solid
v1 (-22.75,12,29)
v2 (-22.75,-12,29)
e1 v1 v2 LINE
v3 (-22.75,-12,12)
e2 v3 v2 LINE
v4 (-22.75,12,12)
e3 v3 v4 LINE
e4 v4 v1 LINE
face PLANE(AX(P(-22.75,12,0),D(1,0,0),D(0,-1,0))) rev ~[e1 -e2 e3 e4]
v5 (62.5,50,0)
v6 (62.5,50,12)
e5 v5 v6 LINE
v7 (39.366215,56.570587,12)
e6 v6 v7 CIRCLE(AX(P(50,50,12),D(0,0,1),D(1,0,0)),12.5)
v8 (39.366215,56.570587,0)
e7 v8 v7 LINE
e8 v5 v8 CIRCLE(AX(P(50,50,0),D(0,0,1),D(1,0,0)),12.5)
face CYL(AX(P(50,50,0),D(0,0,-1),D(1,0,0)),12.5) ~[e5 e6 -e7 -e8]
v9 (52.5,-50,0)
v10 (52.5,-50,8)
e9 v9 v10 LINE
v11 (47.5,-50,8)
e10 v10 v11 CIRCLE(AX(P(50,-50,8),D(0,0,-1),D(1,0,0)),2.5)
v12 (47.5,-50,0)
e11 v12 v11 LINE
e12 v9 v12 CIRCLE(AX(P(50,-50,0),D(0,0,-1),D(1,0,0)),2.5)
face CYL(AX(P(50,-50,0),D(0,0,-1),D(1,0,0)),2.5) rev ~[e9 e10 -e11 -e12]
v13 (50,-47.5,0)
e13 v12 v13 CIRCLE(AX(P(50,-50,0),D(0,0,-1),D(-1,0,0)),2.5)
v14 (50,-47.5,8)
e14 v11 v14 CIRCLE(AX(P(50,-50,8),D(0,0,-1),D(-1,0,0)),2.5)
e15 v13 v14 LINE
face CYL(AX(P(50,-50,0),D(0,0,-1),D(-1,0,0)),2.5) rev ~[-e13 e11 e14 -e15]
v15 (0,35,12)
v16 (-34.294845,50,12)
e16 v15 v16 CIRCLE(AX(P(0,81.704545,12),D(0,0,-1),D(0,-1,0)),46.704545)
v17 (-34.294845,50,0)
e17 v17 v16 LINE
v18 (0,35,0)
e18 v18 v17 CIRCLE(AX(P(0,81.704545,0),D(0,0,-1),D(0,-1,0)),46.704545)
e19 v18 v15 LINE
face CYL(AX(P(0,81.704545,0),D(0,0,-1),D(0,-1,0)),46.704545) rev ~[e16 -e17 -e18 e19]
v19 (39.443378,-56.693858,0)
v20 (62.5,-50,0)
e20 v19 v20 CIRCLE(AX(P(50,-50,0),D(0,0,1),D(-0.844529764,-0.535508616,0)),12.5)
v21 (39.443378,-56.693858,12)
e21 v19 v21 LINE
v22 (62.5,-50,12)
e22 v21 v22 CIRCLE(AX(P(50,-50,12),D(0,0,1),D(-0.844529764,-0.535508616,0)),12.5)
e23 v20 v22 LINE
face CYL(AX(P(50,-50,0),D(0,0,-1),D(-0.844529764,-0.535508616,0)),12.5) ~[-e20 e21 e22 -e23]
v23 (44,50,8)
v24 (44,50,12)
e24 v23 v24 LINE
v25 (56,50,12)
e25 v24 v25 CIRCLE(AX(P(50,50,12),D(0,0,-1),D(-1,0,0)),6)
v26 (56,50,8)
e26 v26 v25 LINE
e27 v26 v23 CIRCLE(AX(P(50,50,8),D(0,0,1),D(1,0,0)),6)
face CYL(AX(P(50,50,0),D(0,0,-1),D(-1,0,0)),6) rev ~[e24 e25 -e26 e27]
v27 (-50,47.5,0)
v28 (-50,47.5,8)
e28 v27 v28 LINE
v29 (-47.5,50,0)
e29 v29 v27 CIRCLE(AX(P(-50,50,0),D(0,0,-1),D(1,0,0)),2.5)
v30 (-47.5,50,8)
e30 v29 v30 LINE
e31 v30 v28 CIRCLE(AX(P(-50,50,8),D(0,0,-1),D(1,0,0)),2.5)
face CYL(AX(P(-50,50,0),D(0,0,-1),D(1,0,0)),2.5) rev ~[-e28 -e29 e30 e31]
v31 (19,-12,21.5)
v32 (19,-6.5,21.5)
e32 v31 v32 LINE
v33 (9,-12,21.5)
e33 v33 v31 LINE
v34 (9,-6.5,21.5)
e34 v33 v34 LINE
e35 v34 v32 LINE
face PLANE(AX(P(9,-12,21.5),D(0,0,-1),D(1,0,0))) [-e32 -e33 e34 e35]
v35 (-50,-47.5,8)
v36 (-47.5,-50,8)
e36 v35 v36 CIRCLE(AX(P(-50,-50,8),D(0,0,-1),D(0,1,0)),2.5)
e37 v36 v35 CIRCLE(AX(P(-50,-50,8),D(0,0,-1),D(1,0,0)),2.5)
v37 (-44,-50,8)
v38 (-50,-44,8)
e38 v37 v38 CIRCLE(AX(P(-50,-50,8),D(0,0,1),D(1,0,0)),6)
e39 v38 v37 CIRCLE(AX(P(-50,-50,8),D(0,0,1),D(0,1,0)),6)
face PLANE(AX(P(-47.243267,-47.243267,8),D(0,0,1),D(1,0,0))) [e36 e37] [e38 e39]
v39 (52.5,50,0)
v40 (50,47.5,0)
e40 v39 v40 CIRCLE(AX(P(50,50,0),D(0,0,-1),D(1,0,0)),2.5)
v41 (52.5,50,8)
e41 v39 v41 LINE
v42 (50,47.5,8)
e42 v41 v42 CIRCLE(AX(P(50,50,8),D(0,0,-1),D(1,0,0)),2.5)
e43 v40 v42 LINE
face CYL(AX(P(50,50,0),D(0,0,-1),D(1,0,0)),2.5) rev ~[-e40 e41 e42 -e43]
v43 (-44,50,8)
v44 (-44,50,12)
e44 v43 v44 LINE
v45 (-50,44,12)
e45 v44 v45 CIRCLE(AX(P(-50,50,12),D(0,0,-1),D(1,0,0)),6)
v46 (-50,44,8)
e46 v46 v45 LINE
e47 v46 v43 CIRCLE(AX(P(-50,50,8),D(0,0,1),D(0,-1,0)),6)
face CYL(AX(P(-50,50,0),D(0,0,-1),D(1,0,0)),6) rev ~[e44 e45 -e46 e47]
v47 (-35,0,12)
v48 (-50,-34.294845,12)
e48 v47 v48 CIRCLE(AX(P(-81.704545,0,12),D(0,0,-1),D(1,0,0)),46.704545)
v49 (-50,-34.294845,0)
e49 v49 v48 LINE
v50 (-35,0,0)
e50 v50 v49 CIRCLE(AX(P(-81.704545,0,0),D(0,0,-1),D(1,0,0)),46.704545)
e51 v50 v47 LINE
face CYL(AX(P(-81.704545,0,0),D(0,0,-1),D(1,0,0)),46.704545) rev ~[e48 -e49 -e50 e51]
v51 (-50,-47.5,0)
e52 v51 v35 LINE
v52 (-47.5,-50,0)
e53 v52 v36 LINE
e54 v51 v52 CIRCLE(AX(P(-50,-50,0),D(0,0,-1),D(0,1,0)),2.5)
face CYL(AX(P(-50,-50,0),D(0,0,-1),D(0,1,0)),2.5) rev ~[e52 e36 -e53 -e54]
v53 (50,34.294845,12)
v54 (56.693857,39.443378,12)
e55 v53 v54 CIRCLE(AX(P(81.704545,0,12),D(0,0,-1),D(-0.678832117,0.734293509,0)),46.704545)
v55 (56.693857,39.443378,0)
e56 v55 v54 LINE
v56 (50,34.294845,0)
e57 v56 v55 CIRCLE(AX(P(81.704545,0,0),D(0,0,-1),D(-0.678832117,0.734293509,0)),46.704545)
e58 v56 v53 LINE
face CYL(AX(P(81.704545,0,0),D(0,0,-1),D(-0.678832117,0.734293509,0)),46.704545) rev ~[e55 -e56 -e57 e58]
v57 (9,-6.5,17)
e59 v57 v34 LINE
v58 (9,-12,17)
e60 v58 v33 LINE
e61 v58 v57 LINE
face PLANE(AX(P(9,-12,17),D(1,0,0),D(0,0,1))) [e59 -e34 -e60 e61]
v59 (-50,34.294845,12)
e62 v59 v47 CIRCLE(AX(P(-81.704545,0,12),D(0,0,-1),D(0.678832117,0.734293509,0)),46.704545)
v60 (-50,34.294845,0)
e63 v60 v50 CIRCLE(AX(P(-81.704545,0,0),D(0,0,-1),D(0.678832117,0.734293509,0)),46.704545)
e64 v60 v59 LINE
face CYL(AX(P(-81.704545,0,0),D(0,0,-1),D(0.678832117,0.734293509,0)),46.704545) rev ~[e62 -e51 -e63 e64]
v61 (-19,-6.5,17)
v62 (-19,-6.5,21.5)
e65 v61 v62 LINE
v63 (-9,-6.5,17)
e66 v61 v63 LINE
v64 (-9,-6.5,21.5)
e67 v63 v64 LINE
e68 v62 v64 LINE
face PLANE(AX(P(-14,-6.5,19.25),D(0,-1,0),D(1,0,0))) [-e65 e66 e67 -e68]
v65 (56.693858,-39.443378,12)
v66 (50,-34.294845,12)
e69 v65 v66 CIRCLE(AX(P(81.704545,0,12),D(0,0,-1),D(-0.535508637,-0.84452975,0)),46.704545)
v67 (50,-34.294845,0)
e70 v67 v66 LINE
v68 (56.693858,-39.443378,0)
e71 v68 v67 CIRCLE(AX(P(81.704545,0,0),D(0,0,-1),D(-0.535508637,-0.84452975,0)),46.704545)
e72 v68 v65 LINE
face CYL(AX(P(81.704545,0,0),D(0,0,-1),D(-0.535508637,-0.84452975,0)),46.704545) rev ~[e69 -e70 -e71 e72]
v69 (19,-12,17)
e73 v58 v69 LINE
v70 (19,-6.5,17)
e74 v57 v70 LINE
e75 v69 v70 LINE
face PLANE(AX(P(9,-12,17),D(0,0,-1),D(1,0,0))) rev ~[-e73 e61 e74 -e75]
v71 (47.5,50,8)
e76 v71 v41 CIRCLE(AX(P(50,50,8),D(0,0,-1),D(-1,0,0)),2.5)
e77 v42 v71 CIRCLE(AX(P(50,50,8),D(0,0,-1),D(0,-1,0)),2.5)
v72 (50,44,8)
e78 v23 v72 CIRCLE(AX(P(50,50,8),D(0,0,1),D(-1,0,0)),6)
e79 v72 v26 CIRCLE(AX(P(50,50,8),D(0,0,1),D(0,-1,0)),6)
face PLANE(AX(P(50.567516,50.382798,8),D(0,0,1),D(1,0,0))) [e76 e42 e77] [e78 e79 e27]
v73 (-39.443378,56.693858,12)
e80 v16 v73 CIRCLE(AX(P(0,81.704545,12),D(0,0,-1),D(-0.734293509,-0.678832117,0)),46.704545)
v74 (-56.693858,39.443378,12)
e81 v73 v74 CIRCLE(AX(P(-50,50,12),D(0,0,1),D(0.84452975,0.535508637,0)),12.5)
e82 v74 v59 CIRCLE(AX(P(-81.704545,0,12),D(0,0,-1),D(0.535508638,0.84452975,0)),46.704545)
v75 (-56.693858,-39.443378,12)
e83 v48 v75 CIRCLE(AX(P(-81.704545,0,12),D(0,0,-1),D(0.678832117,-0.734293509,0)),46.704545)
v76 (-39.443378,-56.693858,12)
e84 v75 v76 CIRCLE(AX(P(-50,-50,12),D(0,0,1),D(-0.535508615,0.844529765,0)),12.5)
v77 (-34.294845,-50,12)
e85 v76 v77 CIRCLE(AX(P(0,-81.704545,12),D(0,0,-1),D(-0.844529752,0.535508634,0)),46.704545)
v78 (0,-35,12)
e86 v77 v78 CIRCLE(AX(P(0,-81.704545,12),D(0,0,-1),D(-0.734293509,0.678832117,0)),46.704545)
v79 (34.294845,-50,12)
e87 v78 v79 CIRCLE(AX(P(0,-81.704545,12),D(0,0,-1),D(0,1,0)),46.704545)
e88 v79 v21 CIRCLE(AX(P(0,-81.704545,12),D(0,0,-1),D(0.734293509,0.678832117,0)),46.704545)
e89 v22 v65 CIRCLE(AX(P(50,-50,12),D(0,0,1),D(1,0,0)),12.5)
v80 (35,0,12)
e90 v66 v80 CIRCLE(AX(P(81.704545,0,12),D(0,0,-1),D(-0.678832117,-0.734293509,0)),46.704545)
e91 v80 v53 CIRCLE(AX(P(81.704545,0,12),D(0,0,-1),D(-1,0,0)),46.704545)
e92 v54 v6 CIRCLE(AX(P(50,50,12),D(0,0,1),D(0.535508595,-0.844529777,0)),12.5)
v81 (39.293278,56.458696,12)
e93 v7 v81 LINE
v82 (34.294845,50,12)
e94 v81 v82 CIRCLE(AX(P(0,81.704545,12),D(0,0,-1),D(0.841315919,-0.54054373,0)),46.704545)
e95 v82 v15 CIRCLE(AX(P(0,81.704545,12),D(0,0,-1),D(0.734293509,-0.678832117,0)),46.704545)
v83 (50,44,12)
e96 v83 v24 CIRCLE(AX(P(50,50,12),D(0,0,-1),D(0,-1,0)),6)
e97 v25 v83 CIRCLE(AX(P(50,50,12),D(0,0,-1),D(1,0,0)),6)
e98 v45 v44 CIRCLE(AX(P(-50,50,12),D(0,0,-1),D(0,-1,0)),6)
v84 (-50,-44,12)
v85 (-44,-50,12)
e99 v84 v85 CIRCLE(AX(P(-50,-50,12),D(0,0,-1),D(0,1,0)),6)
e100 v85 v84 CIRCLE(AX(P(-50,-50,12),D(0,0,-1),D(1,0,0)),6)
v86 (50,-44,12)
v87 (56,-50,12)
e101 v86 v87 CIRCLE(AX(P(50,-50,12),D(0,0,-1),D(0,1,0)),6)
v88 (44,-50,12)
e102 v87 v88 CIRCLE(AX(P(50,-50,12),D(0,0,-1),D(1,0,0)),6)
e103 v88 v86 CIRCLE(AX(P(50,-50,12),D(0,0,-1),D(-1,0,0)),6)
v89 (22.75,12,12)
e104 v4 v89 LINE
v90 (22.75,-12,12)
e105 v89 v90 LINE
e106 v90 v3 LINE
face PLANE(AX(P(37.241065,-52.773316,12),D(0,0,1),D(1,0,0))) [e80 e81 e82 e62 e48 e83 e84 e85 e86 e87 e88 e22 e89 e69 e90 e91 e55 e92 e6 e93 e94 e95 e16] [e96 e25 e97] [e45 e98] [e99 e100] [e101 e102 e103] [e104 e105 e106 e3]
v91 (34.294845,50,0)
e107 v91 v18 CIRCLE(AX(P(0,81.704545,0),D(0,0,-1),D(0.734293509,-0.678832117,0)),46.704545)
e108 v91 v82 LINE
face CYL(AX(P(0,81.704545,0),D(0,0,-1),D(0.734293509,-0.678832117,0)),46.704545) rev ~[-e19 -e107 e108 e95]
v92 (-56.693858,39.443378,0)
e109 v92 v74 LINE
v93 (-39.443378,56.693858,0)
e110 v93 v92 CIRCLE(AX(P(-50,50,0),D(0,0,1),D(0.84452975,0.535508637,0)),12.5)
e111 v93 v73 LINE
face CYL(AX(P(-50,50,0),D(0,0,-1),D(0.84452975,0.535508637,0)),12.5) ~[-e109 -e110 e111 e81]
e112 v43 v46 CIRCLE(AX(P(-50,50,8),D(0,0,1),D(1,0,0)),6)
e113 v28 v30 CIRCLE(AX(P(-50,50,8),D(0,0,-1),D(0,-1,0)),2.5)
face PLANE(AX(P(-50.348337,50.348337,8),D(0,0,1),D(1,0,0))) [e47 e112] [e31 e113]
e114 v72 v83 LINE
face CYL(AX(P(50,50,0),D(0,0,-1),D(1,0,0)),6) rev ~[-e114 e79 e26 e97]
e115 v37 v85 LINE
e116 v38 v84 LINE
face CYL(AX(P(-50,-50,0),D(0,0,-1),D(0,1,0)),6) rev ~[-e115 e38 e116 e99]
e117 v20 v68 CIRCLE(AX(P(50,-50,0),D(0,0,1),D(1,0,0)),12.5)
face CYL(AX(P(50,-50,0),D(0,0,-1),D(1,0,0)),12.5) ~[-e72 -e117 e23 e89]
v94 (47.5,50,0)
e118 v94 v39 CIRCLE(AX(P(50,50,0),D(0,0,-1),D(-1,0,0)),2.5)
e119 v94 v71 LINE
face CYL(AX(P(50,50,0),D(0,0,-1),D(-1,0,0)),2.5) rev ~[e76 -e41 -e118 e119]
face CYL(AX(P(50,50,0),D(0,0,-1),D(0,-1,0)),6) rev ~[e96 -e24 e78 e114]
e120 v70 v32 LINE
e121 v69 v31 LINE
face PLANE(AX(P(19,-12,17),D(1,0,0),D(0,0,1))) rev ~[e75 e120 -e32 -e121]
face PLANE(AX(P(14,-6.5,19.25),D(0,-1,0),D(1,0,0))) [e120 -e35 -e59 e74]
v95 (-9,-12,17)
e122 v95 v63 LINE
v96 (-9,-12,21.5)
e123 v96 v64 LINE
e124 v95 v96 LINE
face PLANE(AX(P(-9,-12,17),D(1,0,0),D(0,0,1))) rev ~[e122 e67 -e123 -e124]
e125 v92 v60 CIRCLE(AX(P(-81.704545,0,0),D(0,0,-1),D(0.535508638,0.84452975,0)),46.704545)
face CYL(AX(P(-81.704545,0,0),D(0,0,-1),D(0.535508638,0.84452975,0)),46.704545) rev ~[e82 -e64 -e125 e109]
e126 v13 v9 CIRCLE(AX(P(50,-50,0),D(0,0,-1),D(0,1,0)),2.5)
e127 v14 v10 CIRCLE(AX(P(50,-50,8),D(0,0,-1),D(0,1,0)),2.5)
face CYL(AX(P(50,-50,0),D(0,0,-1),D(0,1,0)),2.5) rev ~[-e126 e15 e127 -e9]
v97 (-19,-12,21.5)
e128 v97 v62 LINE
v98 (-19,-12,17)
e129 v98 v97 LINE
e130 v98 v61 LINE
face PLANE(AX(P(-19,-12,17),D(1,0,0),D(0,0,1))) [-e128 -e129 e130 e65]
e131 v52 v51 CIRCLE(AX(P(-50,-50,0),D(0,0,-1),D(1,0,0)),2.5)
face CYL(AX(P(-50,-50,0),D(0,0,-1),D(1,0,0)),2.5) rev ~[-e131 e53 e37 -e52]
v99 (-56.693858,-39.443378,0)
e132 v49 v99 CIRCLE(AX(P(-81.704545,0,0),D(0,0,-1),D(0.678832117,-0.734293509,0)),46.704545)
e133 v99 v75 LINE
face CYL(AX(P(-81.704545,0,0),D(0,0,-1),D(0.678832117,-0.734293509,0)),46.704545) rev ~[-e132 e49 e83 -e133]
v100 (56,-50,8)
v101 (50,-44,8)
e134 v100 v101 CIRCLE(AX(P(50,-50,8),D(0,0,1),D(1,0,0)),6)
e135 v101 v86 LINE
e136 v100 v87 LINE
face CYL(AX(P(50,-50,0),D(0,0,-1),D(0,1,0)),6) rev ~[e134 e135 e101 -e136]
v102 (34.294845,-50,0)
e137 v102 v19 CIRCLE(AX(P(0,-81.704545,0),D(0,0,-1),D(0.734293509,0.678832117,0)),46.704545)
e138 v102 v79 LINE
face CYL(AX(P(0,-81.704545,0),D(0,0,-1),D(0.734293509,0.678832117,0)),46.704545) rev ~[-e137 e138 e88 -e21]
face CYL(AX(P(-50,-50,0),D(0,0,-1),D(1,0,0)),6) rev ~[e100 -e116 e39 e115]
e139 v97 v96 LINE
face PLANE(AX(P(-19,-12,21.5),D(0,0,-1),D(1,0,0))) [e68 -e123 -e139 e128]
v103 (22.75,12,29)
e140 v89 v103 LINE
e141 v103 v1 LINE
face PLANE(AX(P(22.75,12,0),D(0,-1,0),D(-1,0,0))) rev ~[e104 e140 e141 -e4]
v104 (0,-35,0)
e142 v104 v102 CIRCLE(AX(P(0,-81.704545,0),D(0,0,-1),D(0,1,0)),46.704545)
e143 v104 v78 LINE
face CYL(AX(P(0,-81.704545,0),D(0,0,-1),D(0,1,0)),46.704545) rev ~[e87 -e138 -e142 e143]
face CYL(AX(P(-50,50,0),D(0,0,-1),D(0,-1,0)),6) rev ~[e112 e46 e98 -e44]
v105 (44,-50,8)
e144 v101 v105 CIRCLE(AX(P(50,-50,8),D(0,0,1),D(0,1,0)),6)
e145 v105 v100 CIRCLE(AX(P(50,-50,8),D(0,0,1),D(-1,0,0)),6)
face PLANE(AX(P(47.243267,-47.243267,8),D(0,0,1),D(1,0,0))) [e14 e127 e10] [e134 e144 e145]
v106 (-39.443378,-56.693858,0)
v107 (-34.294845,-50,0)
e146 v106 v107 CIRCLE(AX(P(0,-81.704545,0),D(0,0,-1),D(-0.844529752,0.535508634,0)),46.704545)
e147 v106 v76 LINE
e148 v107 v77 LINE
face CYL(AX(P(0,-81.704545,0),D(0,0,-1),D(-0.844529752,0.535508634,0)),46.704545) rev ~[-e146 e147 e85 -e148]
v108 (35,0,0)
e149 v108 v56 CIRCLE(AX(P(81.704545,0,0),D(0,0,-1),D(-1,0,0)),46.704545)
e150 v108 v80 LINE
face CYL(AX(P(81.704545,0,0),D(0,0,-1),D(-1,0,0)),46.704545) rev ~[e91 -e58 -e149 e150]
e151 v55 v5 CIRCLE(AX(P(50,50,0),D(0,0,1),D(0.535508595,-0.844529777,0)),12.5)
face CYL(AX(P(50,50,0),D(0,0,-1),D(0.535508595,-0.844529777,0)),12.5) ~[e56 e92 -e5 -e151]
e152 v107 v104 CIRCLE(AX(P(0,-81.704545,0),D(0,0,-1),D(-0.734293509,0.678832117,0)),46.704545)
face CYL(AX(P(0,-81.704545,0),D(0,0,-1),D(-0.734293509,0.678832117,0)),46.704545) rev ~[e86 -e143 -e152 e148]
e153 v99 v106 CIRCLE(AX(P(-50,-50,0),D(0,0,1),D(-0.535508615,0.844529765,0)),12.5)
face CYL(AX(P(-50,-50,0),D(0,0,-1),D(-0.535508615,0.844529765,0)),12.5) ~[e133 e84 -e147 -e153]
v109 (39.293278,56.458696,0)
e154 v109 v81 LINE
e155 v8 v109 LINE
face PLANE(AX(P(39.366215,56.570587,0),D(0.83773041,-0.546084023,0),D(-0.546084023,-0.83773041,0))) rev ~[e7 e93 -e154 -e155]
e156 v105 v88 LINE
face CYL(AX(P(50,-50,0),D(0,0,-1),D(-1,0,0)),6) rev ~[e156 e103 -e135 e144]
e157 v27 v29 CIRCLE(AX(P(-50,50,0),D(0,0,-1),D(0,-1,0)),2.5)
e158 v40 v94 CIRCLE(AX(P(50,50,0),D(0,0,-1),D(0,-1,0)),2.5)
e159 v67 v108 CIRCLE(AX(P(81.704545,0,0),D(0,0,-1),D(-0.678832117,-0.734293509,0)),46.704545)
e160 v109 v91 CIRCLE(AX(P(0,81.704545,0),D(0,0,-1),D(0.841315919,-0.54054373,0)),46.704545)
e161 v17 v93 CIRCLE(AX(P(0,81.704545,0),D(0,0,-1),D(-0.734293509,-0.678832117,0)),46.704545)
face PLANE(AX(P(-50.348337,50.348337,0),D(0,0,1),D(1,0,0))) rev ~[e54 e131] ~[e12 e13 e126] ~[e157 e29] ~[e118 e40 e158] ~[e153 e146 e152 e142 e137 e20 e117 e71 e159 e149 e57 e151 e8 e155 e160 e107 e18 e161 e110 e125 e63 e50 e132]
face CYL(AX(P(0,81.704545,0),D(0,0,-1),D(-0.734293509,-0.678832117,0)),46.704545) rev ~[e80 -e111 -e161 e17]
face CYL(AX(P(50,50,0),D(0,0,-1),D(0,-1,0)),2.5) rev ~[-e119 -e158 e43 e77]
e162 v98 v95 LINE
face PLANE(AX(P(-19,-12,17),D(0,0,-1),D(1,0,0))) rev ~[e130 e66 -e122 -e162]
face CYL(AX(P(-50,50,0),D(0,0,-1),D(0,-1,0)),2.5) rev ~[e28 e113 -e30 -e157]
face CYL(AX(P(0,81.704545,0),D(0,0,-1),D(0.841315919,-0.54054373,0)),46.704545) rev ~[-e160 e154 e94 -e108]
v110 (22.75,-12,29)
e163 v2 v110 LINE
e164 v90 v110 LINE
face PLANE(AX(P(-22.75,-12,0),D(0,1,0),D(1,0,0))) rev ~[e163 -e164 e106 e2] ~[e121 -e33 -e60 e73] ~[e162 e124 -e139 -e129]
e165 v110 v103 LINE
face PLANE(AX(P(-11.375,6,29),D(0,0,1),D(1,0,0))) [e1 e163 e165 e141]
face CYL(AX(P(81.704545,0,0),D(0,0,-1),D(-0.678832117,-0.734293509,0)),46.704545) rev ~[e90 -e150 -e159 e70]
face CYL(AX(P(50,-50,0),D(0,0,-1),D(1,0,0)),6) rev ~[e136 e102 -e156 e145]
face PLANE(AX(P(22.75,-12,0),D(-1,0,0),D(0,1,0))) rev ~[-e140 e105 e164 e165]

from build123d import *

# Parameters (mm, degrees)
F1_DEPTH = 12
F0_W     = 22.75
F0_H     = 12
F2_DEPTH = 29
F3_DEPTH = 8
F4_W     = 10
F4_H     = 4.5
F5_DEPTH = 5.5


with BuildPart() as f1:
    # F0 (on Top) → F1 (new body)
    with BuildSketch(Plane.XY):
        with BuildLine():
            Line((37.5, -50), (34.2948445635, -50))
            ThreePointArc((34.2948445635, -50), (37.0207144417, -53.2303243355), (39.4433779545, -56.6938577061))
            ThreePointArc((39.4433779545, -56.6938577061), (37.9956721228, -53.4851272883), (37.5, -50))
        make_face()
        with BuildLine():
            Line((-34.2948445635, -50), (-37.5, -50))
            ThreePointArc((-37.5, -50), (-37.9956721876, -53.4851275115), (-39.4433782034, -56.6938580986))
            ThreePointArc((-39.4433782034, -56.6938580986), (-37.0207145834, -53.2303245197), (-34.2948445635, -50))
        make_face()
        with BuildLine():
            ThreePointArc((-39.443378119, 56.6938579655), (-37.9956721656, 53.4851274358), (-37.5, 50))
            Line((-37.5, 50), (-34.2948445635, 50))
            ThreePointArc((-34.2948445635, 50), (-37.0207145354, 53.2303244572), (-39.443378119, 56.6938579655))
        make_face()
        with BuildLine():
            Line((50, -34.2948445635), (50, -37.5))
            ThreePointArc((50, -37.5), (53.4851274351, -37.9956721654), (56.6938579643, -39.4433781183))
            ThreePointArc((56.6938579643, -39.4433781183), (53.2303244566, -37.020714535), (50, -34.2948445635))
        make_face()
        with BuildLine():
            Line((50, 37.5), (50, 34.2948445635))
            ThreePointArc((50, 34.2948445635), (53.2303242081, 37.0207143438), (56.6938574347, 39.4433777825))
            ThreePointArc((56.6938574347, 39.4433777825), (53.485127134, 37.995672078), (50, 37.5))
        make_face()
        with BuildLine():
            ThreePointArc((-56.6938576889, -39.4433779436), (-53.4851272786, -37.9956721199), (-50, -37.5))
            Line((-50, -37.5), (-50, -34.2948445635))
            ThreePointArc((-50, -34.2948445635), (-53.2303243274, -37.0207144356), (-56.6938576889, -39.4433779436))
        make_face()
        with BuildLine():
            ThreePointArc((-56.6938579169, 39.4433780882), (-53.2303244344, 37.0207145179), (-50, 34.2948445635))
            Line((-50, 34.2948445635), (-50, 37.5))
            ThreePointArc((-50, 37.5), (-53.4851274082, 37.9956721576), (-56.6938579169, 39.4433780882))
        make_face()
        with BuildLine():
            ThreePointArc((37.5, 50), (41.1611652352, 41.1611652352), (50, 37.5))
            Line((50, 37.5), (50, 44))
            ThreePointArc((50, 44), (45.7573593129, 45.7573593129), (44, 50))
            Line((44, 50), (37.5, 50))
        make_face()
        with BuildLine():
            Line((50, 44), (50, 37.5))
            ThreePointArc((50, 37.5), (53.485127134, 37.995672078), (56.6938574347, 39.4433777825))
            ThreePointArc((56.6938574347, 39.4433777825), (60.952698707, 43.9760153525), (62.5, 50))
            ThreePointArc((62.5, 50), (53.4152371074, 62.0243983426), (39.3662151199, 56.5705874261))
            ThreePointArc((39.3662151199, 56.5705874261), (37.9756016574, 53.4152371074), (37.5, 50))
            Line((37.5, 50), (44, 50))
            ThreePointArc((44, 50), (50, 56), (56, 50))
            ThreePointArc((56, 50), (54.2426406871, 45.7573593129), (50, 44))
        make_face()
        with BuildLine():
            Line((44, -50), (37.5, -50))
            ThreePointArc((37.5, -50), (37.9956721228, -53.4851272883), (39.4433779545, -56.6938577061))
            ThreePointArc((39.4433779545, -56.6938577061), (53.4851272883, -62.0043278772), (62.5, -50))
            ThreePointArc((62.5, -50), (60.9526988581, -43.9760156272), (56.6938579643, -39.4433781183))
            ThreePointArc((56.6938579643, -39.4433781183), (53.4851274351, -37.9956721654), (50, -37.5))
            Line((50, -37.5), (50, -44))
            ThreePointArc((50, -44), (54.2426406871, -45.7573593129), (56, -50))
            ThreePointArc((56, -50), (50, -56), (44, -50))
        make_face()
        with BuildLine():
            ThreePointArc((-39.4433782034, -56.6938580986), (-37.9956721876, -53.4851275115), (-37.5, -50))
            Line((-37.5, -50), (-44, -50))
            ThreePointArc((-44, -50), (-54.2426406871, -54.2426406871), (-50, -44))
            Line((-50, -44), (-50, -37.5))
            ThreePointArc((-50, -37.5), (-53.4851272786, -37.9956721199), (-56.6938576889, -39.4433779436))
            ThreePointArc((-56.6938576889, -39.4433779436), (-58.8388349363, -58.8388345933), (-39.4433782034, -56.6938580986))
        make_face()
        with BuildLine():
            ThreePointArc((-56.6938579169, 39.4433780882), (-53.4851274082, 37.9956721576), (-50, 37.5))
            Line((-50, 37.5), (-50, 44))
            ThreePointArc((-50, 44), (-54.2426406871, 54.2426406871), (-44, 50))
            Line((-44, 50), (-37.5, 50))
            ThreePointArc((-37.5, 50), (-37.9956721656, 53.4851274358), (-39.443378119, 56.6938579655))
            ThreePointArc((-39.443378119, 56.6938579655), (-58.8388347851, 58.8388347445), (-56.6938579169, 39.4433780882))
        make_face()
        with BuildLine():
            Line((22.75, 12), (22.75, 0))
            Line((22.75, 0), (35, 0))
            ThreePointArc((35, 0), (38.9140035649, 18.7158780427), (50, 34.2948445635))
            Line((50, 34.2948445635), (50, 37.5))
            ThreePointArc((50, 37.5), (41.1611652352, 41.1611652352), (37.5, 50))
            Line((37.5, 50), (34.2948445635, 50))
            ThreePointArc((34.2948445635, 50), (18.7158780427, 38.9140035649), (0, 35))
            Line((0, 35), (0, 12))
            Line((0, 12), (22.75, 12))
        make_face()
        with BuildLine():
            ThreePointArc((0, -35), (18.7158780427, -38.9140035649), (34.2948445635, -50))
            Line((34.2948445635, -50), (37.5, -50))
            ThreePointArc((37.5, -50), (41.1611652352, -41.1611652352), (50, -37.5))
            Line((50, -37.5), (50, -34.2948445635))
            ThreePointArc((50, -34.2948445635), (38.9140035649, -18.7158780427), (35, 0))
            Line((35, 0), (22.75, 0))
            Line((22.75, 0), (22.75, -12))
            Line((22.75, -12), (0, -12))
            Line((0, -12), (0, -35))
        make_face()
        with BuildLine():
            ThreePointArc((-50, -37.5), (-41.1611652352, -41.1611652352), (-37.5, -50))
            Line((-37.5, -50), (-34.2948445635, -50))
            ThreePointArc((-34.2948445635, -50), (-18.7158780427, -38.9140035649), (0, -35))
            Line((0, -35), (0, -12))
            Line((0, -12), (-22.75, -12))
            Line((-22.75, -12), (-22.75, 0))
            Line((-22.75, 0), (-35, 0))
            ThreePointArc((-35, 0), (-38.9140035649, -18.7158780427), (-50, -34.2948445635))
            Line((-50, -34.2948445635), (-50, -37.5))
        make_face()
        with BuildLine():
            Line((-50, 37.5), (-50, 34.2948445635))
            ThreePointArc((-50, 34.2948445635), (-38.9140035649, 18.7158780427), (-35, 0))
            Line((-35, 0), (-22.75, 0))
            Line((-22.75, 0), (-22.75, 12))
            Line((-22.75, 12), (0, 12))
            Line((0, 12), (0, 35))
            ThreePointArc((0, 35), (-18.7158780427, 38.9140035649), (-34.2948445635, 50))
            Line((-34.2948445635, 50), (-37.5, 50))
            ThreePointArc((-37.5, 50), (-41.1611652352, 41.1611652352), (-50, 37.5))
        make_face()
        with BuildLine():
            Line((-44, -50), (-37.5, -50))
            ThreePointArc((-37.5, -50), (-41.1611652352, -41.1611652352), (-50, -37.5))
            Line((-50, -37.5), (-50, -44))
            ThreePointArc((-50, -44), (-45.7573593129, -45.7573593129), (-44, -50))
        make_face()
        with BuildLine():
            Line((-50, 44), (-50, 37.5))
            ThreePointArc((-50, 37.5), (-41.1611652352, 41.1611652352), (-37.5, 50))
            Line((-37.5, 50), (-44, 50))
            ThreePointArc((-44, 50), (-45.7573593129, 45.7573593129), (-50, 44))
        make_face()
        with BuildLine():
            ThreePointArc((50, -37.5), (41.1611652352, -41.1611652352), (37.5, -50))
            Line((37.5, -50), (44, -50))
            ThreePointArc((44, -50), (45.7573593129, -45.7573593129), (50, -44))
            Line((50, -44), (50, -37.5))
        make_face()
        with BuildLine():
            ThreePointArc((39.2932775844, 56.4586962355), (36.935506218, 53.1198826695), (34.2948445635, 50))
            Line((34.2948445635, 50), (37.5, 50))
            ThreePointArc((37.5, 50), (37.9756016574, 53.4152371074), (39.3662151199, 56.5705874261))
            Line((39.3662151199, 56.5705874261), (39.2932775844, 56.4586962355))
        make_face()
    extrude(amount=F1_DEPTH)

    # F0 (on Top) → F2 (join)
    with BuildSketch(Plane.XY):
        with Locations((-11.375, 6)):
            Rectangle(F0_W, F0_H)
        with Locations((11.375, 6)):
            Rectangle(F0_W, F0_H)
        with Locations((11.375, -6)):
            Rectangle(F0_W, F0_H)
        with Locations((-11.375, -6)):
            Rectangle(F0_W, F0_H)
    extrude(amount=F2_DEPTH)

    # F0 (on Top) → F3 (join)
    with BuildSketch(Plane.XY):
        with BuildLine():
            ThreePointArc((-44, 50), (-54.2426406871, 54.2426406871), (-50, 44))
            Line((-50, 44), (-50, 47.5))
            ThreePointArc((-50, 47.5), (-51.767766953, 51.767766953), (-47.5, 50))
            Line((-47.5, 50), (-44, 50))
        make_face()
        with BuildLine():
            Line((-50, 47.5), (-50, 44))
            ThreePointArc((-50, 44), (-45.7573593129, 45.7573593129), (-44, 50))
            Line((-44, 50), (-47.5, 50))
            ThreePointArc((-47.5, 50), (-48.232233047, 48.232233047), (-50, 47.5))
        make_face()
        with BuildLine():
            Line((50, 47.5), (50, 44))
            ThreePointArc((50, 44), (54.2426406871, 45.7573593129), (56, 50))
            ThreePointArc((56, 50), (50, 56), (44, 50))
            Line((44, 50), (47.5, 50))
            ThreePointArc((47.5, 50), (50, 52.5), (52.5, 50))
            ThreePointArc((52.5, 50), (51.767766953, 48.232233047), (50, 47.5))
        make_face()
        with BuildLine():
            ThreePointArc((44, 50), (45.7573593129, 45.7573593129), (50, 44))
            Line((50, 44), (50, 47.5))
            ThreePointArc((50, 47.5), (48.232233047, 48.232233047), (47.5, 50))
            Line((47.5, 50), (44, 50))
        make_face()
        with BuildLine():
            ThreePointArc((50, -44), (45.7573593129, -45.7573593129), (44, -50))
            Line((44, -50), (47.5, -50))
            ThreePointArc((47.5, -50), (48.232233047, -48.232233047), (50, -47.5))
            Line((50, -47.5), (50, -44))
        make_face()
        with BuildLine():
            Line((47.5, -50), (44, -50))
            ThreePointArc((44, -50), (50, -56), (56, -50))
            ThreePointArc((56, -50), (54.2426406871, -45.7573593129), (50, -44))
            Line((50, -44), (50, -47.5))
            ThreePointArc((50, -47.5), (51.767766953, -48.232233047), (52.5, -50))
            ThreePointArc((52.5, -50), (50, -52.5), (47.5, -50))
        make_face()
        with BuildLine():
            Line((-47.5, -50), (-44, -50))
            ThreePointArc((-44, -50), (-45.7573593129, -45.7573593129), (-50, -44))
            Line((-50, -44), (-50, -47.5))
            ThreePointArc((-50, -47.5), (-48.232233047, -48.232233047), (-47.5, -50))
        make_face()
        with BuildLine():
            ThreePointArc((-50, -44), (-54.2426406871, -54.2426406871), (-44, -50))
            Line((-44, -50), (-47.5, -50))
            ThreePointArc((-47.5, -50), (-51.767766953, -51.767766953), (-50, -47.5))
            Line((-50, -47.5), (-50, -44))
        make_face()
    extrude(amount=F3_DEPTH)

    # F4 (on face) → F5 (cut)
    with BuildSketch(Plane.XZ.offset(12)):
        with Locations((-14, 19.25)):
            Rectangle(F4_W, F4_H)
        with Locations((14, 19.25)):
            Rectangle(F4_W, F4_H)
    extrude(amount=-F5_DEPTH, mode=Mode.SUBTRACT)


solid = f1.part
